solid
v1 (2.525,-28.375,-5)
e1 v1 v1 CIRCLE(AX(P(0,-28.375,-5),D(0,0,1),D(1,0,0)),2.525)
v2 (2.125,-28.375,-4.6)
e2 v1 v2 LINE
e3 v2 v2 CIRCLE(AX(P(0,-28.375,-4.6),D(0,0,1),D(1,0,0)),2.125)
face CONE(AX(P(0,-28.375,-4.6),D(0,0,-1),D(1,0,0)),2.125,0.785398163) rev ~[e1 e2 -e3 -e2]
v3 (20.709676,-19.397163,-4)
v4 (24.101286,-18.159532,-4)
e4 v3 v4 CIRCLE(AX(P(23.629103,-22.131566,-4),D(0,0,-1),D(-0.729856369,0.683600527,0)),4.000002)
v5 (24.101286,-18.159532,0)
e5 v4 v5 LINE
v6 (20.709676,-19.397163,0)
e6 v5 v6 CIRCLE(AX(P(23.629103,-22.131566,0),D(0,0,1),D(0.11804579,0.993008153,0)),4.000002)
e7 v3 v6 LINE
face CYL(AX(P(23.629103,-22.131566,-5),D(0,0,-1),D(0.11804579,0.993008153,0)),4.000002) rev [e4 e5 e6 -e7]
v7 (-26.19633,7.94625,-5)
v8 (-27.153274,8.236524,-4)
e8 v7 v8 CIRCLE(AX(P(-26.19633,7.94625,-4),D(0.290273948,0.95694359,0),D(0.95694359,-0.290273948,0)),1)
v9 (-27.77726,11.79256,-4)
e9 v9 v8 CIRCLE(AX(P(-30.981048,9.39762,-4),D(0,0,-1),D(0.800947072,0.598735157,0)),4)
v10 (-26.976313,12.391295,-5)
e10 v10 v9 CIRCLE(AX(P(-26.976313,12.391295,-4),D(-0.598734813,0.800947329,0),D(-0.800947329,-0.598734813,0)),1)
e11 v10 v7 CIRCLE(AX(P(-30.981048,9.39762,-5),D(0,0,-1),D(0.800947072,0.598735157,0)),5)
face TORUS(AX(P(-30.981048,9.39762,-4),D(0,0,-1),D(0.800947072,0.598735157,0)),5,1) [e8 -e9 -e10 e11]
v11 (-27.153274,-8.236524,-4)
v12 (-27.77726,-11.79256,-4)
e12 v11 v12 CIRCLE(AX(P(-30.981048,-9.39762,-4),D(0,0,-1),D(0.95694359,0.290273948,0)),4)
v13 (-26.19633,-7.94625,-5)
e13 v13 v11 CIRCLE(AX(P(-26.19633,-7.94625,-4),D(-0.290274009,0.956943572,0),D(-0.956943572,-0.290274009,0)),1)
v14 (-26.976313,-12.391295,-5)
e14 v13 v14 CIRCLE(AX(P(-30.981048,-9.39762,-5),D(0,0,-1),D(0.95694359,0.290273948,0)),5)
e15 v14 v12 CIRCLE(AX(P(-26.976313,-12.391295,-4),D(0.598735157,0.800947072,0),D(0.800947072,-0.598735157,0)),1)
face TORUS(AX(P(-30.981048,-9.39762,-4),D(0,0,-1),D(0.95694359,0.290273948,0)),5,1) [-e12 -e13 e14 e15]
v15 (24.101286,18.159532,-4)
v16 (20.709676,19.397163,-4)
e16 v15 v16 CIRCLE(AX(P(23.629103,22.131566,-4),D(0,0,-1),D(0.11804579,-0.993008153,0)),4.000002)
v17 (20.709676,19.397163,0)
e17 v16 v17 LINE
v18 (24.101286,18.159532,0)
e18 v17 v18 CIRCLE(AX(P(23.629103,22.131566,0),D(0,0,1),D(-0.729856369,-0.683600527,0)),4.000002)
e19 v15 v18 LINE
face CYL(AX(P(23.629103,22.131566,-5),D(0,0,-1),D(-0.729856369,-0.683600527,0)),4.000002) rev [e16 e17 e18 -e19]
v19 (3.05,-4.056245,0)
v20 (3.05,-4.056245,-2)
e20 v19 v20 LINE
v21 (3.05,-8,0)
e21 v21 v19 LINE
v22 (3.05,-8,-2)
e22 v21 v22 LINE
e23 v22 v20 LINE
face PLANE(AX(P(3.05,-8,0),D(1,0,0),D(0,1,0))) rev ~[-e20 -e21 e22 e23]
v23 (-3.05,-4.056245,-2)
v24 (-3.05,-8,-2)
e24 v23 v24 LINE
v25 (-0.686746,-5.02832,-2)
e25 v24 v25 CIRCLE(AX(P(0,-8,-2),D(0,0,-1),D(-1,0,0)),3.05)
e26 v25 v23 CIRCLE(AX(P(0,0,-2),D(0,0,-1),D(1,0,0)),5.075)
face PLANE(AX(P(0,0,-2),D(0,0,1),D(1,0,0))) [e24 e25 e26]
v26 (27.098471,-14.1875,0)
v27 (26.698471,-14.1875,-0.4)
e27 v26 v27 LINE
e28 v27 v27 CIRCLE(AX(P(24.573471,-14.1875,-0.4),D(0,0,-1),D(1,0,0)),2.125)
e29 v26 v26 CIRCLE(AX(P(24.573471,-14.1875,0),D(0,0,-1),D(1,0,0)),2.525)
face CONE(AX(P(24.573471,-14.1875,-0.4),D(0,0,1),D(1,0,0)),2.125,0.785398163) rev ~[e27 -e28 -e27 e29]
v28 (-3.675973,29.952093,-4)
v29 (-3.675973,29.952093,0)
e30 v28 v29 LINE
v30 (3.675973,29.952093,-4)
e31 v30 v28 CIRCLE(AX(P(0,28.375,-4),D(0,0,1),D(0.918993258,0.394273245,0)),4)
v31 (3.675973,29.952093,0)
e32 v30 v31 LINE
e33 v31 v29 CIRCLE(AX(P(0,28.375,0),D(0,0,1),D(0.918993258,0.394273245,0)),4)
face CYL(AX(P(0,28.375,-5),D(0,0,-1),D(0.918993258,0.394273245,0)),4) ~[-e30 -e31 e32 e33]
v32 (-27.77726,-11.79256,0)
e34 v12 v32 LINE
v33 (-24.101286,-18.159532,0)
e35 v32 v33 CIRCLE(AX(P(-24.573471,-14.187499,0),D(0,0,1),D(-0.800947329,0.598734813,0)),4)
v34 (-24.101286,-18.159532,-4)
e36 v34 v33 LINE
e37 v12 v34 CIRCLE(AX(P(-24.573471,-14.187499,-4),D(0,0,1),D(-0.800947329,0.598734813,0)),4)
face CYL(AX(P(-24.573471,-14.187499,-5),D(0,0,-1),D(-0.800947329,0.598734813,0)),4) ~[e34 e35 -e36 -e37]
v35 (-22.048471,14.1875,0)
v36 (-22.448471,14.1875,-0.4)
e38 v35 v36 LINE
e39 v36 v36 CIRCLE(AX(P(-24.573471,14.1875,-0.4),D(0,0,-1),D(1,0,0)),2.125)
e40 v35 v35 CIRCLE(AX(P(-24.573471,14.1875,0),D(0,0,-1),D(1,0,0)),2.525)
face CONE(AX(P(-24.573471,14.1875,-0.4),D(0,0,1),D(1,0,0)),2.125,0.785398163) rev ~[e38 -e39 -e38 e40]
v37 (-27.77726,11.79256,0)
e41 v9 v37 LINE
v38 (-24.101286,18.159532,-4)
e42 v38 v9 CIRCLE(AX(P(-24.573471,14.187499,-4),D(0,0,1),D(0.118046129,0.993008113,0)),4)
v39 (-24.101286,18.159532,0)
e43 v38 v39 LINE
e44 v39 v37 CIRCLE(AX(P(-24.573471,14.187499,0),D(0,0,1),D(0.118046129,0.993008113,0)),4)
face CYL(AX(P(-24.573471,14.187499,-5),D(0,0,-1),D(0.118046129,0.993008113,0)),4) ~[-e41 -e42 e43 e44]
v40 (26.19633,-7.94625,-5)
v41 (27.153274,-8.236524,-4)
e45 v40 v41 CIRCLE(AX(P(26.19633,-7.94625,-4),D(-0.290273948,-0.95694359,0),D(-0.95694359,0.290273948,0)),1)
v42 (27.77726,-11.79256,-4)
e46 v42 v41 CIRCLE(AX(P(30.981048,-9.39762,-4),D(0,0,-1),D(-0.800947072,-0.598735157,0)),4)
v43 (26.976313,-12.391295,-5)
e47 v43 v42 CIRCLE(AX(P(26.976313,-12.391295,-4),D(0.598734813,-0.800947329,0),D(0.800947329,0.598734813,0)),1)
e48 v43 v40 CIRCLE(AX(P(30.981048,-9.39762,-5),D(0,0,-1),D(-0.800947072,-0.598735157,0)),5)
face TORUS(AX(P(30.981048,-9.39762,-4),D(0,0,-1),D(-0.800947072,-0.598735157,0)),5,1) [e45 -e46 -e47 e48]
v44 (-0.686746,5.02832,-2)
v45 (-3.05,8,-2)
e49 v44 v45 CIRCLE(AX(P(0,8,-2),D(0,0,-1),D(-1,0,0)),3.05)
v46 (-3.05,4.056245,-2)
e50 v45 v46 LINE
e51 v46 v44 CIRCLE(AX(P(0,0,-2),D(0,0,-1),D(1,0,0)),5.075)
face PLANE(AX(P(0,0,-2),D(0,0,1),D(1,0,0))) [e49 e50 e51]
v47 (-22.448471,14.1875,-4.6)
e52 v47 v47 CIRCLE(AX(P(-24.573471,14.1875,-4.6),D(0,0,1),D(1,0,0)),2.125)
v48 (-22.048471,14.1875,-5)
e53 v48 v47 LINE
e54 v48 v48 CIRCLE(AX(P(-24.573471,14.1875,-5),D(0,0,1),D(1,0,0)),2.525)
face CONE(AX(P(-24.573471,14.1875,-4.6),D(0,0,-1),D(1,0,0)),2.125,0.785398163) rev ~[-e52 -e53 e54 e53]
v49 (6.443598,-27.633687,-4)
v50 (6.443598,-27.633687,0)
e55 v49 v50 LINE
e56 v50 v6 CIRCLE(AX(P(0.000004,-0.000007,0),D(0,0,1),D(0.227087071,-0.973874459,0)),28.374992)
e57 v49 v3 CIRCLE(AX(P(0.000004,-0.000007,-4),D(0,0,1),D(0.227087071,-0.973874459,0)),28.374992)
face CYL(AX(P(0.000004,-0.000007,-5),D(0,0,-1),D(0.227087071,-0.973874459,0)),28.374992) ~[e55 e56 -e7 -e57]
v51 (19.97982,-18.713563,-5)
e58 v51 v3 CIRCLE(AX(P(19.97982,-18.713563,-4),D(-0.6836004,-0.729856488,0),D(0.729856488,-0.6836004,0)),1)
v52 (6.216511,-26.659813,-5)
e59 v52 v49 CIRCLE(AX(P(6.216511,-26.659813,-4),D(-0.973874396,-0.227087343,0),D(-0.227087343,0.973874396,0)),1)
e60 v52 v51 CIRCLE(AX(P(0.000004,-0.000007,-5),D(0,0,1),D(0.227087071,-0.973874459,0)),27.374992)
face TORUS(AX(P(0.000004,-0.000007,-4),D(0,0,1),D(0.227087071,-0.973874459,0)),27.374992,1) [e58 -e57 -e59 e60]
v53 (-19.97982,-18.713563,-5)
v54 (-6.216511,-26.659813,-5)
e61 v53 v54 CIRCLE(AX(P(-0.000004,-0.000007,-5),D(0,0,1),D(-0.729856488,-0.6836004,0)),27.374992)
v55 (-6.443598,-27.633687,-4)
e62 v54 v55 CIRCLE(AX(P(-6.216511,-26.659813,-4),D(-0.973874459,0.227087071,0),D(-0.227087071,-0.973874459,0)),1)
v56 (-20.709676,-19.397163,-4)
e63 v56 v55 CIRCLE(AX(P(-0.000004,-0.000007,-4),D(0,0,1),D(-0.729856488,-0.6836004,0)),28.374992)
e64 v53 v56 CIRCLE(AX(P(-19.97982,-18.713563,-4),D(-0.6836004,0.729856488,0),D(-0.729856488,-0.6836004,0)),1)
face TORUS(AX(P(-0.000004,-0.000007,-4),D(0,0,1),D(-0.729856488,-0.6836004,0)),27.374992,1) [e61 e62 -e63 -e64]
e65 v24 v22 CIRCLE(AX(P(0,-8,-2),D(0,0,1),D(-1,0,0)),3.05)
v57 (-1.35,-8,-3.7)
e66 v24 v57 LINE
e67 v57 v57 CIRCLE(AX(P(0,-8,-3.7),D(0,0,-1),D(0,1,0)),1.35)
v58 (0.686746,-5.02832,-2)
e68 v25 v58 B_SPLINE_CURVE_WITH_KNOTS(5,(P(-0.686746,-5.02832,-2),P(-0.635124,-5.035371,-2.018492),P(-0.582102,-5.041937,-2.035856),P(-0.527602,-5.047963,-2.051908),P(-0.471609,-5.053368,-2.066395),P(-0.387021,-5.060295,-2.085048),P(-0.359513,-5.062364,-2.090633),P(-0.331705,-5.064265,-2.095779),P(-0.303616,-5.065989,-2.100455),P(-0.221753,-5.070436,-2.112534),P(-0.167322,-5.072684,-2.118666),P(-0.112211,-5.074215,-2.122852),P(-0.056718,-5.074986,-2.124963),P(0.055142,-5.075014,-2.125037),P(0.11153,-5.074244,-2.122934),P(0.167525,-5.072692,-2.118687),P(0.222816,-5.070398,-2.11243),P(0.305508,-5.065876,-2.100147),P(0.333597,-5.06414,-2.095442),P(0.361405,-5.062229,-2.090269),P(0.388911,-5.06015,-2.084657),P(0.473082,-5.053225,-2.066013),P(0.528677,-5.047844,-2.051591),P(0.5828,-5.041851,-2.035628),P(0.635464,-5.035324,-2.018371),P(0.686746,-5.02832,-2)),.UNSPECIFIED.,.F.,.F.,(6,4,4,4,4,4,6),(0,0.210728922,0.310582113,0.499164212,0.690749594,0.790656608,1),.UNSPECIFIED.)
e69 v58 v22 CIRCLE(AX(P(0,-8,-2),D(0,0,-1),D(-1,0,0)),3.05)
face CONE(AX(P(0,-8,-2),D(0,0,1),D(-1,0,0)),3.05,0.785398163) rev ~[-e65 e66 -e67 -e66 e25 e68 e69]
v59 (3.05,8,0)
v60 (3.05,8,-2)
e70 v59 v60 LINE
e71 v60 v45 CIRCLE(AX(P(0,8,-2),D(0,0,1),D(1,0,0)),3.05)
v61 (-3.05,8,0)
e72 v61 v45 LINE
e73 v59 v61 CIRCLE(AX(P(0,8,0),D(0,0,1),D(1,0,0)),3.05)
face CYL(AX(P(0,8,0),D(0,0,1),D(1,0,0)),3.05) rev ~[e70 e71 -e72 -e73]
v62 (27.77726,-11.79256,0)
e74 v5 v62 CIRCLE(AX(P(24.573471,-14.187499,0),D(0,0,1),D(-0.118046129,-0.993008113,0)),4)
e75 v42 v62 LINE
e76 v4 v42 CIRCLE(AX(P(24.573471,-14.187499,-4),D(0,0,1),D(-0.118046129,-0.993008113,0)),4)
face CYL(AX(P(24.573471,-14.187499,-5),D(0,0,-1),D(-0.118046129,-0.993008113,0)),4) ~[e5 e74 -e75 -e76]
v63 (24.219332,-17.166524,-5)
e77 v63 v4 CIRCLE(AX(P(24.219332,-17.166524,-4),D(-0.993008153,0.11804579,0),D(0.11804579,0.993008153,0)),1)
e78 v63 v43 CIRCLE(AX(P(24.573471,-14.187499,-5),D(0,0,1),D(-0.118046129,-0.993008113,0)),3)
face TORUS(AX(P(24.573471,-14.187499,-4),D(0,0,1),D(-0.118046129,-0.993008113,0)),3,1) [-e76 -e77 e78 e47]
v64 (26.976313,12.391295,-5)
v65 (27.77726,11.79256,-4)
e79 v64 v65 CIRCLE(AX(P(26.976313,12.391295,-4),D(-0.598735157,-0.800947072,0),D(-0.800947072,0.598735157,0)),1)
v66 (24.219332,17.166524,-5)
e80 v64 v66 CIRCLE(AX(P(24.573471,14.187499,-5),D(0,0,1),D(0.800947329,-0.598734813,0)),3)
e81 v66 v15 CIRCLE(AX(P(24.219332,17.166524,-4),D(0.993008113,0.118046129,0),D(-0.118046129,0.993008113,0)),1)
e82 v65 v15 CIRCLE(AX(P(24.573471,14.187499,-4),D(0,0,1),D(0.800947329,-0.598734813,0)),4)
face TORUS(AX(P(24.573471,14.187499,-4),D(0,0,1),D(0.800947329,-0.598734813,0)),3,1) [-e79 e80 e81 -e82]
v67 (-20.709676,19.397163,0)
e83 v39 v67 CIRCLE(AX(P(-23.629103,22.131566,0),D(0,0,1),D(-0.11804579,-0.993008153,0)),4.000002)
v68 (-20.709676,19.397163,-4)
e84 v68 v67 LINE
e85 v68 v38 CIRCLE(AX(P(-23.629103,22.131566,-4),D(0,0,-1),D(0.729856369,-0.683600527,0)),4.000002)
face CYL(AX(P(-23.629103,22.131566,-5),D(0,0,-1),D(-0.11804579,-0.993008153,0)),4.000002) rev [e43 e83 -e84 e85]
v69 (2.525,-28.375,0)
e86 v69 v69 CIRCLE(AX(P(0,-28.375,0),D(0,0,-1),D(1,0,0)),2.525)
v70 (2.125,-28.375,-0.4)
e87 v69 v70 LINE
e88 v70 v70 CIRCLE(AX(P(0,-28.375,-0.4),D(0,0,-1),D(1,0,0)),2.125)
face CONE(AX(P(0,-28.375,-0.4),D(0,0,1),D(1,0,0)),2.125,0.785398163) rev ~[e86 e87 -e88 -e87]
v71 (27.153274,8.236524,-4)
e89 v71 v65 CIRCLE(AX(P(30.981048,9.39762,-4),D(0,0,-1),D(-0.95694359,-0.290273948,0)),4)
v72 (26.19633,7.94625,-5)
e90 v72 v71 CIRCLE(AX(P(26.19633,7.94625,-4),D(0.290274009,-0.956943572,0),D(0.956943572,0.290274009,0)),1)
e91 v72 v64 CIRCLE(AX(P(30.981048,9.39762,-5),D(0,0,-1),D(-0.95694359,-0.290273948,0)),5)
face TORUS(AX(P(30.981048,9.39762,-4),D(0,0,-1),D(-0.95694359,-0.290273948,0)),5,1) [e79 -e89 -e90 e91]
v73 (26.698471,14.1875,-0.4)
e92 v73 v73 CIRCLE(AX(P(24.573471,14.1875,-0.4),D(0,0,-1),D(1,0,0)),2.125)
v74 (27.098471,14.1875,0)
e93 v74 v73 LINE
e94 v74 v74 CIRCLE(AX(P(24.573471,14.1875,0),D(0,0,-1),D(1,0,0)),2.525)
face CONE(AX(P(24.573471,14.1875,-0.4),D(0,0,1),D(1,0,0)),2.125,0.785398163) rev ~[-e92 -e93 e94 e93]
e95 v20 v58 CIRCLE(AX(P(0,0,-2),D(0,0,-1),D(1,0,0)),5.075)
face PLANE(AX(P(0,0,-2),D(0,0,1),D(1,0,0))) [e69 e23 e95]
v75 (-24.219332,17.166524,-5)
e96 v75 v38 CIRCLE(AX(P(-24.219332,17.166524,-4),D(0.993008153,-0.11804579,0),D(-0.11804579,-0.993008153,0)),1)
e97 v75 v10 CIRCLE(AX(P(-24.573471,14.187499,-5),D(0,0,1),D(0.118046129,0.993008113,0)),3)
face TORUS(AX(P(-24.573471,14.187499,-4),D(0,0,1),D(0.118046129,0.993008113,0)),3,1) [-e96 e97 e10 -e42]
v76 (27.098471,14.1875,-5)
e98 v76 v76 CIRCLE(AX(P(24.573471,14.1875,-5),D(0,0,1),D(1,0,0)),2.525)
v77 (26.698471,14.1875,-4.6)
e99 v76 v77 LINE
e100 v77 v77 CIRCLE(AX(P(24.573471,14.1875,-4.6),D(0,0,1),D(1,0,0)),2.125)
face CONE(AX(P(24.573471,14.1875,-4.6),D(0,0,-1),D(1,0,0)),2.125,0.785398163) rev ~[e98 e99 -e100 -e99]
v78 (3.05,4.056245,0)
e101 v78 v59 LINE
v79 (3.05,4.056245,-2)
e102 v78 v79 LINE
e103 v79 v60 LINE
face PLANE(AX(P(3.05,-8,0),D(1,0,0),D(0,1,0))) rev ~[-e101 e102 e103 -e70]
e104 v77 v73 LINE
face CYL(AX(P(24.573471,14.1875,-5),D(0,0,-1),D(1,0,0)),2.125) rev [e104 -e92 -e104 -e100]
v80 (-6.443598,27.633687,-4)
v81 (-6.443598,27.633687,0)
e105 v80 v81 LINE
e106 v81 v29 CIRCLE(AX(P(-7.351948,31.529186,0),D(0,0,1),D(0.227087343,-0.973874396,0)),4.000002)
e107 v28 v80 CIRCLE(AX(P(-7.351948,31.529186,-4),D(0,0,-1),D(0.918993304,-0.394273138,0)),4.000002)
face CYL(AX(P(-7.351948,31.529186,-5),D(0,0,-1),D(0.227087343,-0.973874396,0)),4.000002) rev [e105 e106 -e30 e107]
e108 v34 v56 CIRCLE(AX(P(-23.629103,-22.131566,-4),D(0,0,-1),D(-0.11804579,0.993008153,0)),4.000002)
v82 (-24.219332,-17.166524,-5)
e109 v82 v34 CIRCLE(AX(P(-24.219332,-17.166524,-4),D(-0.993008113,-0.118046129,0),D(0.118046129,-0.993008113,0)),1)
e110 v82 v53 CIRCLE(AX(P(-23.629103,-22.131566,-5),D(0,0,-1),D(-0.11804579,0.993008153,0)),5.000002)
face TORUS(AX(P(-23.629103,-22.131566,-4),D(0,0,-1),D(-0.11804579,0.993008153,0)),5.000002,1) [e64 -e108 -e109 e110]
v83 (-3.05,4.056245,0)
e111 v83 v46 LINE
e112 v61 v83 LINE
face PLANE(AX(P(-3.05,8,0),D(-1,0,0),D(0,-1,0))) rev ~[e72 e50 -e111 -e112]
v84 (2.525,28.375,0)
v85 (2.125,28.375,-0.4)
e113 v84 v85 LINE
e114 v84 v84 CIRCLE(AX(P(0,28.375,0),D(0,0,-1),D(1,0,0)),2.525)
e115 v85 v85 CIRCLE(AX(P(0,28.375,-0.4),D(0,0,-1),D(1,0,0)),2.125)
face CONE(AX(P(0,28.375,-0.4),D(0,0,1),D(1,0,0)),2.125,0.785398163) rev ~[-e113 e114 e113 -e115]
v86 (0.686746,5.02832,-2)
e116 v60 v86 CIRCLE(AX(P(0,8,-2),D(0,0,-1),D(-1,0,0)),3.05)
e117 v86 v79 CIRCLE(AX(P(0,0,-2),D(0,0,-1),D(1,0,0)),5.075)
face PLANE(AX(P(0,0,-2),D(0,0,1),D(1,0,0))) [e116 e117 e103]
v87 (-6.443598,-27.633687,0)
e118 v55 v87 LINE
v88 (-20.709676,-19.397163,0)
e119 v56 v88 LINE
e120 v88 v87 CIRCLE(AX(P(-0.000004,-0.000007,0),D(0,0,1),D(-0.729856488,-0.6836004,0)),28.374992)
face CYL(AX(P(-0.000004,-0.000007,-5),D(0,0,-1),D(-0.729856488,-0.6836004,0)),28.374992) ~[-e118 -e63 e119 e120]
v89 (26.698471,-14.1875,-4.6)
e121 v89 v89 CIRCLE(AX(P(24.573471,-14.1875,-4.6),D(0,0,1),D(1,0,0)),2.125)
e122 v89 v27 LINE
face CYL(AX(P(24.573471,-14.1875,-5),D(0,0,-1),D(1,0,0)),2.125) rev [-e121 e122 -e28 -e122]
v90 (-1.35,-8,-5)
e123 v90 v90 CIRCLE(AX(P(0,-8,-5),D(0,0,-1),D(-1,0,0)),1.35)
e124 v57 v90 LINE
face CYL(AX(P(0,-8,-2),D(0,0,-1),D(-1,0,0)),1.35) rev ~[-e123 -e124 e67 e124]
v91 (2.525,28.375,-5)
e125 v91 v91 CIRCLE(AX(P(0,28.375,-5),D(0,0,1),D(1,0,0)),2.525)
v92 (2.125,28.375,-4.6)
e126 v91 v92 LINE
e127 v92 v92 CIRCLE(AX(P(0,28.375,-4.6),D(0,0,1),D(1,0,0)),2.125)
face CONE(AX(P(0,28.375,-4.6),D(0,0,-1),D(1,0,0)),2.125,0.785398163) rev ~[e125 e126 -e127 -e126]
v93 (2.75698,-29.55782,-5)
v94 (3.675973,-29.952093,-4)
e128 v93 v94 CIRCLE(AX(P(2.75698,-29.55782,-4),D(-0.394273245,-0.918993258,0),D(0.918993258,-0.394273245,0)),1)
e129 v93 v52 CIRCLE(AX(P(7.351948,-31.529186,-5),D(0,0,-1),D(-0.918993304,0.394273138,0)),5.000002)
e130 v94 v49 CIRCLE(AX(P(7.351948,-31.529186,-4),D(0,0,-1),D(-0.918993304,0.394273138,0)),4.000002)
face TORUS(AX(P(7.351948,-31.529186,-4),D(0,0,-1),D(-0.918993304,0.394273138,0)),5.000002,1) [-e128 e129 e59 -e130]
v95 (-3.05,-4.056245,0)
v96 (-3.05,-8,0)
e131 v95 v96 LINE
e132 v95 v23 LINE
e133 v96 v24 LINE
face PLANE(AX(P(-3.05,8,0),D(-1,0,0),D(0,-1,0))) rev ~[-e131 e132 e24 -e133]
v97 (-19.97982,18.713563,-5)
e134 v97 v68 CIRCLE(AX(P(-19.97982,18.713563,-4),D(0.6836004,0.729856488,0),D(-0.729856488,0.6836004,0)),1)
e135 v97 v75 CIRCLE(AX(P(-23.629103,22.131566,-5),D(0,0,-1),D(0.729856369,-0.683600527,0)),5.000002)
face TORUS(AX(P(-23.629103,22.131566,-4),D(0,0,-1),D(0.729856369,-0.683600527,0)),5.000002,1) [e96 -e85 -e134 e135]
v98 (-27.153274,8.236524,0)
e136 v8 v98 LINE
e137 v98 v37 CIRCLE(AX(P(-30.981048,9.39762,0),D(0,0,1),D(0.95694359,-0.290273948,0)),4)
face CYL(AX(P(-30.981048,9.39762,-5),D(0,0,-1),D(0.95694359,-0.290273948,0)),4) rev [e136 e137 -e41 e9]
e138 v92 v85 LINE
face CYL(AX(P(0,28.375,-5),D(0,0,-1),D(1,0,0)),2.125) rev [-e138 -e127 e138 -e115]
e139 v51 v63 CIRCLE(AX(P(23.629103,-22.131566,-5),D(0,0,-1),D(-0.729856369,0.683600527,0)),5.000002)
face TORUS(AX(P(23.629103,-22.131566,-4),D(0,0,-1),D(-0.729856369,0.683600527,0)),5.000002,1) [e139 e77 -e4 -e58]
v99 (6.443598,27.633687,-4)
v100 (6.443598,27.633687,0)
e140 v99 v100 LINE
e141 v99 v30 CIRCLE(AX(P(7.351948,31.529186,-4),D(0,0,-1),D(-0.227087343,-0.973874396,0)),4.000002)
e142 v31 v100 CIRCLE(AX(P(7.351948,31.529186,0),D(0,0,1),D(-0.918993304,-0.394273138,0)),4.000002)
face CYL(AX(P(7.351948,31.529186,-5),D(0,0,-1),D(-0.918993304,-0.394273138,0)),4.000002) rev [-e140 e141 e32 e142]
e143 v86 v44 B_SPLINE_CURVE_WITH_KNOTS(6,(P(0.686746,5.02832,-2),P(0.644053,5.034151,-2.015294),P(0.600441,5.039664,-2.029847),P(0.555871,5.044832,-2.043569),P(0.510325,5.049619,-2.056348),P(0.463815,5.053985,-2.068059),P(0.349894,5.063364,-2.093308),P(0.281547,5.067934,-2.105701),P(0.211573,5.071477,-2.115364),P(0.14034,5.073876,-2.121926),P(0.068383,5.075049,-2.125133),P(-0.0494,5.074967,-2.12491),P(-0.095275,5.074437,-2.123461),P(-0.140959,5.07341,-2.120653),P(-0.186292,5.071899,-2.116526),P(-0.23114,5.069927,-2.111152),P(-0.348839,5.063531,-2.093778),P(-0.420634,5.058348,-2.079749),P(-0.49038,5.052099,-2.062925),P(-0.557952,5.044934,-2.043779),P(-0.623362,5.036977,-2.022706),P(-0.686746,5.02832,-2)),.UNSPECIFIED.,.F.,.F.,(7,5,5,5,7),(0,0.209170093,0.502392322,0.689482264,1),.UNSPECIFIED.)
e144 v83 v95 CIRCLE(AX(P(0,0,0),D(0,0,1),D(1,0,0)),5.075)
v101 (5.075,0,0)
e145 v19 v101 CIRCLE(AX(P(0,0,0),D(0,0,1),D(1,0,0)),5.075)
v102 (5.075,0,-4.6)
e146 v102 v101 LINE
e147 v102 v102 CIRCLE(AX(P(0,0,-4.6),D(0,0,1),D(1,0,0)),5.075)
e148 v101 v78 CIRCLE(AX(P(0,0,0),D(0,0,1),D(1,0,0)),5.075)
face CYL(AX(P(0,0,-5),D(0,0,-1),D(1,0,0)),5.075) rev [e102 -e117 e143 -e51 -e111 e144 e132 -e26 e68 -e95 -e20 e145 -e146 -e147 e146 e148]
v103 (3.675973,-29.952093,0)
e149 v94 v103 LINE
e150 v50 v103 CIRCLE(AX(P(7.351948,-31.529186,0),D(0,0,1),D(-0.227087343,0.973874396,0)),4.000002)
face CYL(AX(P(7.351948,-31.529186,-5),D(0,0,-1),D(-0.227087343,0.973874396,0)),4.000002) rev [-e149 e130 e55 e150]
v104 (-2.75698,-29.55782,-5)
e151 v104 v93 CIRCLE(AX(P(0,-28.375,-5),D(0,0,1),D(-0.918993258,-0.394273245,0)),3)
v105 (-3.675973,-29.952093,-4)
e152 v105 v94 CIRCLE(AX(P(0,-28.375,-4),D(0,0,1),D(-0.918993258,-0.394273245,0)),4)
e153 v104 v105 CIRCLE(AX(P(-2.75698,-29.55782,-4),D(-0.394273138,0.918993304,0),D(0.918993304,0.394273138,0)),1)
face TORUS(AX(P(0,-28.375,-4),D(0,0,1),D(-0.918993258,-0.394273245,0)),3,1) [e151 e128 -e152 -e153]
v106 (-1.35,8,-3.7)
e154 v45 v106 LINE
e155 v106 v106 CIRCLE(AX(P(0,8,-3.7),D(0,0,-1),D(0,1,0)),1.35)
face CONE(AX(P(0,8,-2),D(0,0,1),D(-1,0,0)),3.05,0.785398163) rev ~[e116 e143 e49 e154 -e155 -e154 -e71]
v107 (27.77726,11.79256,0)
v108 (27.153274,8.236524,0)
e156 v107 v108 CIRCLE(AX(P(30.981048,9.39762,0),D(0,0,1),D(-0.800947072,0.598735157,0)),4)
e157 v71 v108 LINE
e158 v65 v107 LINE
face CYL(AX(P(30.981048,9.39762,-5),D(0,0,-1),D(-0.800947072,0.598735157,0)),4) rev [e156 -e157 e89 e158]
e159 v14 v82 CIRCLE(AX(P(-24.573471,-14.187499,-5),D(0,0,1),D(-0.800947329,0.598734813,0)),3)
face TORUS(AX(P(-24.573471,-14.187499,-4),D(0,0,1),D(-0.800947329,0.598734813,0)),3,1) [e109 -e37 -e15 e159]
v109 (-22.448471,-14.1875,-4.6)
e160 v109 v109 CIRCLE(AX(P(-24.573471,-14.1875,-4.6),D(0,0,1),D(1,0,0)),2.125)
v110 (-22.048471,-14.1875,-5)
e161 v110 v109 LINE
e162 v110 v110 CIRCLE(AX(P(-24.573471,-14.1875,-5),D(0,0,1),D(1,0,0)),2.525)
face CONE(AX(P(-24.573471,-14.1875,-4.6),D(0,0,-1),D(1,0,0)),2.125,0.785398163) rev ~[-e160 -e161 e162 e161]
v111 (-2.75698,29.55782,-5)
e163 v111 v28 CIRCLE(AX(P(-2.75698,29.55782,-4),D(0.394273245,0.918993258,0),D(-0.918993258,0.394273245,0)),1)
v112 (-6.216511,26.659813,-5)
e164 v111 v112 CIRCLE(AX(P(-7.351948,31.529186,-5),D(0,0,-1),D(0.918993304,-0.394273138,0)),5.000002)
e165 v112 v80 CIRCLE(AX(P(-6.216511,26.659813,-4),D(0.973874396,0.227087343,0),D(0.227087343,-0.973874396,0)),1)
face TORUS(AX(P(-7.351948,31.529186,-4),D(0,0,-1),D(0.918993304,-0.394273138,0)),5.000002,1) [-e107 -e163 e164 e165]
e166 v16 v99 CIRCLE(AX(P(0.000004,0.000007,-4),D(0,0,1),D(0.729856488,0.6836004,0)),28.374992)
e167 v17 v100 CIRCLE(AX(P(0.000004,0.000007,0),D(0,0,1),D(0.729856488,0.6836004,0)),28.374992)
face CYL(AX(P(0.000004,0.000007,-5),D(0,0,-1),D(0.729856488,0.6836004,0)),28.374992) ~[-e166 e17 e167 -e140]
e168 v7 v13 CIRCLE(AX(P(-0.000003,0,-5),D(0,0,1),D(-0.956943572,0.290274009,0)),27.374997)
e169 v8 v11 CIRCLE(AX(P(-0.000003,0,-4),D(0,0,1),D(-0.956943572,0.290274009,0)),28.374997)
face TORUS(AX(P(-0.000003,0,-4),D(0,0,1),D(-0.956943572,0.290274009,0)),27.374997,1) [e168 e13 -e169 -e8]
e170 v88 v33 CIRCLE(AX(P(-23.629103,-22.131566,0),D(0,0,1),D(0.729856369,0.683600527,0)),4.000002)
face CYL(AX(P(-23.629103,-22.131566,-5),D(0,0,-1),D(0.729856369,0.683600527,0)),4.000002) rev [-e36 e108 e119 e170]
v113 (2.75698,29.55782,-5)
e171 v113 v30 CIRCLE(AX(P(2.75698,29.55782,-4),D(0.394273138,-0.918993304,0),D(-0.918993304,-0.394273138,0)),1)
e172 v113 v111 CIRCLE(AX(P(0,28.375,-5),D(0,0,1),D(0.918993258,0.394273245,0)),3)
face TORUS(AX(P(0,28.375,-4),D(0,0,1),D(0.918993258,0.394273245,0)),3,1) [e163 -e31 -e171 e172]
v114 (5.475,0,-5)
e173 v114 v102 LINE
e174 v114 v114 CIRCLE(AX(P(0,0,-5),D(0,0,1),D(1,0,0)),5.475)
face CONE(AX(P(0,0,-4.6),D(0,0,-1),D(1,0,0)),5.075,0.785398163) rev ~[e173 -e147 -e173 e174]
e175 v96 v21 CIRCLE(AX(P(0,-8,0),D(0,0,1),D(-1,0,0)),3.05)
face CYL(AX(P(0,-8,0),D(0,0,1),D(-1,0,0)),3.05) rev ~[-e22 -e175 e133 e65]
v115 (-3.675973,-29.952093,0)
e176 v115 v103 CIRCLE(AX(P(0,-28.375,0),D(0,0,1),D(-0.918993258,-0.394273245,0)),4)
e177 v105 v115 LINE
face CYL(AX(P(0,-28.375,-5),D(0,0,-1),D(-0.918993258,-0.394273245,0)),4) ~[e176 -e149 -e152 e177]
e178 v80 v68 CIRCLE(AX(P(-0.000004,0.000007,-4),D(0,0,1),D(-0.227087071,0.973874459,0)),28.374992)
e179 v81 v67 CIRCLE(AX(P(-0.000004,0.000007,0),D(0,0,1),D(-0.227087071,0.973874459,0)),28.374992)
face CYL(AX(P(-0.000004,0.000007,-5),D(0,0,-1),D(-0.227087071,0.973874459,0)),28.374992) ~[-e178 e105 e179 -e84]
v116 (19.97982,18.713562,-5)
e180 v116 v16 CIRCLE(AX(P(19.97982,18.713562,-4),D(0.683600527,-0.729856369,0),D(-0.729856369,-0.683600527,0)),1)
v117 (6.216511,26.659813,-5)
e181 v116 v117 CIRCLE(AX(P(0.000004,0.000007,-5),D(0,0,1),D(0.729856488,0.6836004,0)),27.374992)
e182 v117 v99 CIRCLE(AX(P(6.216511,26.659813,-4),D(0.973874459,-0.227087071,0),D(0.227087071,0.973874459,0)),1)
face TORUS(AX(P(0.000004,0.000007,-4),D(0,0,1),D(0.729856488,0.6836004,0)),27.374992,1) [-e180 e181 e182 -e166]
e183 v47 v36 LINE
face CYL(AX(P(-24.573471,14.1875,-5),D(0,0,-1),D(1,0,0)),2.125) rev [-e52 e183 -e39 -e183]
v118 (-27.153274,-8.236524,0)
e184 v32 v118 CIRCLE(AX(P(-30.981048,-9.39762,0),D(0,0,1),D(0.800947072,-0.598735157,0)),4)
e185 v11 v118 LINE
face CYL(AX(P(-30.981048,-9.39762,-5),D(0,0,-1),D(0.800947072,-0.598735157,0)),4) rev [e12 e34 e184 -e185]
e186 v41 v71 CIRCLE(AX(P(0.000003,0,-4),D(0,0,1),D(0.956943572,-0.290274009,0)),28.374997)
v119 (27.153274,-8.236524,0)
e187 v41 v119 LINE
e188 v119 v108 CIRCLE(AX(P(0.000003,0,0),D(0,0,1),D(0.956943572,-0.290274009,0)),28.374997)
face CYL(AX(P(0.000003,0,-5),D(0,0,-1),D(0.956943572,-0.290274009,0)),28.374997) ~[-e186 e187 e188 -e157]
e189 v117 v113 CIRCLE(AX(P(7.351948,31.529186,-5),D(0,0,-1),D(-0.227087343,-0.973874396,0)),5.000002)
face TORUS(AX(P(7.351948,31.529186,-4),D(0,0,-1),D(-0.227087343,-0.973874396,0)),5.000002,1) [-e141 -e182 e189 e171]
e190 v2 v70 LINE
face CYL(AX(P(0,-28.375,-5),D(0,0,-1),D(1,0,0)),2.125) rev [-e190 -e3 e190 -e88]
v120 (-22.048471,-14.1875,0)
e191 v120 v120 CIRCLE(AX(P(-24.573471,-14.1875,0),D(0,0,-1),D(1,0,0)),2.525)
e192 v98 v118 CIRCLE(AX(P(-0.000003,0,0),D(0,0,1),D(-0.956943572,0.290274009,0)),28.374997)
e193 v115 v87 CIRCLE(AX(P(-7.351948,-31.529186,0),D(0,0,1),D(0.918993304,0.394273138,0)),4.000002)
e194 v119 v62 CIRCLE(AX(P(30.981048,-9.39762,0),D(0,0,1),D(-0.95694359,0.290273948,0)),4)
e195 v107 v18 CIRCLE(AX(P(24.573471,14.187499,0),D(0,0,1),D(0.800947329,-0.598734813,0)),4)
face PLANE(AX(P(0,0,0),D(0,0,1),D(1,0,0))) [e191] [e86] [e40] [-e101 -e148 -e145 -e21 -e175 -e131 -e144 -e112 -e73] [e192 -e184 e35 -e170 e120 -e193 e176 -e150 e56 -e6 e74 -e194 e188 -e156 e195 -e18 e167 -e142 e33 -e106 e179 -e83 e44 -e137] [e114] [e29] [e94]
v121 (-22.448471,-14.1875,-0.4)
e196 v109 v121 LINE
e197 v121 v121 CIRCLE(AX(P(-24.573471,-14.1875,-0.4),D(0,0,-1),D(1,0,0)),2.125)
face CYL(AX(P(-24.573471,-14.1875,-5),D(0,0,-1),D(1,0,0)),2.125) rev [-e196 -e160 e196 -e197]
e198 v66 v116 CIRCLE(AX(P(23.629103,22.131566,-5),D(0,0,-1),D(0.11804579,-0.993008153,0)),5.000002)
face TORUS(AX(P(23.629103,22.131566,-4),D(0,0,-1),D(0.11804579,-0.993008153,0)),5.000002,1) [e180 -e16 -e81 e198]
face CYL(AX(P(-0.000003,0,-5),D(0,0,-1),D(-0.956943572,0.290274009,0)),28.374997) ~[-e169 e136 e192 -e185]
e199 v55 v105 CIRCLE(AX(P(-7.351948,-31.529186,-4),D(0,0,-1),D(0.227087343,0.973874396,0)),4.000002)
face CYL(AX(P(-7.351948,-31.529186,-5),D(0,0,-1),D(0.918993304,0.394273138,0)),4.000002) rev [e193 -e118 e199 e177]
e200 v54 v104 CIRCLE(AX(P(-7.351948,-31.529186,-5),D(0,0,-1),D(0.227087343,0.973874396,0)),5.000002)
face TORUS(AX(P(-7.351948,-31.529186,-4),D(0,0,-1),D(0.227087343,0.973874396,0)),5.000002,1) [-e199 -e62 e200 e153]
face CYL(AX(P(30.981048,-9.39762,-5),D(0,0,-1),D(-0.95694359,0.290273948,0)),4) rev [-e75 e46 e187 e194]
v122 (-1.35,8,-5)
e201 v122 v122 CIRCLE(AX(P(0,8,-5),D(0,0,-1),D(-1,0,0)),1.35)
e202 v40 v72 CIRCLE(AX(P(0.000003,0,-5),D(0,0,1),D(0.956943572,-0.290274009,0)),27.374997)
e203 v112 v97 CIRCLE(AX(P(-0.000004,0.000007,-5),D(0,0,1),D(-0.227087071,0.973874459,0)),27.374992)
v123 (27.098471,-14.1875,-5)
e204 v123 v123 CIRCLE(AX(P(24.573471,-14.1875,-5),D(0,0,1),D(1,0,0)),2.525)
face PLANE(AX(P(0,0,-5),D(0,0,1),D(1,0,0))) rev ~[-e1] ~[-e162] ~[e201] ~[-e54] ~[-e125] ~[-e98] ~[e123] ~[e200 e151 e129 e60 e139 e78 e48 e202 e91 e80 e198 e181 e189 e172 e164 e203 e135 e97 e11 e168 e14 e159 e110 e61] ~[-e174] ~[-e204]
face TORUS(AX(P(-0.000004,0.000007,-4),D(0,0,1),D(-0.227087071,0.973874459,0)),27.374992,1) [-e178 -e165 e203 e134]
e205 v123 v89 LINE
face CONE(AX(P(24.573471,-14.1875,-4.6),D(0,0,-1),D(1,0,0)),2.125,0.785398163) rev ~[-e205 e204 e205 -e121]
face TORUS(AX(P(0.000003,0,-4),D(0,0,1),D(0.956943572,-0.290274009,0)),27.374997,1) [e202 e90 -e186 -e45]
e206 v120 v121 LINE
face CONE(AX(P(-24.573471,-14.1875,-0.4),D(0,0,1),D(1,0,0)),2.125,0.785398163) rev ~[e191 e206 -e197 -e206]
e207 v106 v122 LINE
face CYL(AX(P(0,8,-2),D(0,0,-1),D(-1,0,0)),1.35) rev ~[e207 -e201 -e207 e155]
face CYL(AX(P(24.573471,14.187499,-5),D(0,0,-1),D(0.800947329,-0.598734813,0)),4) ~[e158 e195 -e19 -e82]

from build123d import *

# Parameters (mm, degrees)
SKETCH011_R         = 5.075
PAD004_DEPTH        = 5
POCKET005_DEPTH     = 2
HOLE003_D           = 2.7
HOLE003_CSINK_D     = 6.1
HOLE003_CSINK_ANGLE = 90
SKETCH016_R         = 2.125
POCKET006_DEPTH     = 5.001
FILLET_R            = 1
CHAMFER_SIZE        = 0.4


with BuildPart() as part:
    # Sketch011 → Pad004 (new body)
    with BuildSketch(Plane.XY):
        with BuildLine():
            ThreePointArc((3.675973, 29.952093), (0, 32.375), (-3.675973, 29.952093))
            ThreePointArc((-6.443598, 27.633687), (-4.783337, 28.462877), (-3.675973, 29.952093))
            ThreePointArc((-6.443598, 27.633687), (-14.1875, 24.573471), (-20.709676, 19.397163))
            ThreePointArc((-24.101286, 18.159532), (-22.257905, 18.37393), (-20.709676, 19.397163))
            ThreePointArc((-24.101286, 18.159532), (-28.037572, 16.1875), (-27.77726, 11.79256))
            ThreePointArc((-27.153274, 8.236524), (-27.041243, 10.088947), (-27.77726, 11.79256))
            ThreePointArc((-27.153274, 8.236524), (-28.375, 0), (-27.153274, -8.236524))
            ThreePointArc((-27.77726, -11.79256), (-27.041243, -10.088947), (-27.153274, -8.236524))
            ThreePointArc((-27.77726, -11.79256), (-28.037572, -16.1875), (-24.101286, -18.159532))
            ThreePointArc((-20.709676, -19.397163), (-22.257905, -18.37393), (-24.101286, -18.159532))
            ThreePointArc((-20.709676, -19.397163), (-14.1875, -24.573471), (-6.443598, -27.633687))
            ThreePointArc((-3.675973, -29.952093), (-4.783337, -28.462877), (-6.443598, -27.633687))
            ThreePointArc((-3.675973, -29.952093), (0, -32.375), (3.675973, -29.952093))
            ThreePointArc((6.443598, -27.633687), (4.783337, -28.462877), (3.675973, -29.952093))
            ThreePointArc((6.443598, -27.633687), (14.1875, -24.573471), (20.709676, -19.397163))
            ThreePointArc((24.101286, -18.159532), (22.257905, -18.37393), (20.709676, -19.397163))
            ThreePointArc((24.101286, -18.159532), (28.037572, -16.1875), (27.77726, -11.79256))
            ThreePointArc((27.153274, -8.236524), (27.041243, -10.088947), (27.77726, -11.79256))
            ThreePointArc((27.153274, -8.236524), (28.375, 0), (27.153274, 8.236524))
            ThreePointArc((27.77726, 11.79256), (27.041243, 10.088947), (27.153274, 8.236524))
            ThreePointArc((27.77726, 11.79256), (28.037572, 16.1875), (24.101286, 18.159532))
            ThreePointArc((20.709676, 19.397163), (22.257905, 18.37393), (24.101286, 18.159532))
            ThreePointArc((20.709676, 19.397163), (14.1875, 24.573471), (6.443598, 27.633687))
            ThreePointArc((3.675973, 29.952093), (4.783337, 28.462877), (6.443598, 27.633687))
        make_face()
        Circle(SKETCH011_R, mode=Mode.SUBTRACT)
    extrude(amount=PAD004_DEPTH)

    # Sketch014 → Pocket005 (cut)
    with BuildSketch(Plane.XY.offset(5)):
        with BuildLine():
            ThreePointArc((3.05, 8), (0, 11.05), (-3.05, 8))
            Line((-3.05, 8), (-3.05, -8))
            ThreePointArc((-3.05, -8), (0, -11.05), (3.05, -8))
            Line((3.05, -8), (3.05, 8))
        make_face()
    extrude(amount=-POCKET005_DEPTH, mode=Mode.SUBTRACT)

    # Hole003 (through all)
    with Locations(Plane.XY.offset(3)):
        with Locations((0, 8), (0, -8)):
            CounterSinkHole(HOLE003_D / 2, HOLE003_CSINK_D / 2, counter_sink_angle=HOLE003_CSINK_ANGLE)

    # Sketch016 → Pocket006 (cut, through all)
    with BuildSketch(Plane.XY):
        with Locations((0, 28.375)):
            Circle(SKETCH016_R)
        with Locations((24.573471, -14.1875)):
            Circle(SKETCH016_R)
        with Locations((-24.573471, -14.1875)):
            Circle(SKETCH016_R)
        with Locations((24.573471, 14.1875)):
            Circle(SKETCH016_R)
        with Locations((0, -28.375)):
            Circle(SKETCH016_R)
        with Locations((-24.573471, 14.1875)):
            Circle(SKETCH016_R)
    extrude(amount=POCKET006_DEPTH, mode=Mode.SUBTRACT)

    # Fillet
    fillet_edges = [part.edges().sort_by_distance(p)[0] for p in [
        (-14.1875, -24.573471, 0),
    ]]
    fillet(fillet_edges, radius=FILLET_R)

    # Chamfer
    chamfer_edges = [part.edges().sort_by_distance(p)[0] for p in [
        (-5.075, 0, 0),
        (22.448471, 14.1875, 0),
        (22.448471, -14.1875, 0),
        (-2.125, -28.375, 0),
        (-26.698471, -14.1875, 0),
        (-26.698471, 14.1875, 0),
        (-2.125, 28.375, 0),
        (-26.698471, -14.1875, 5),
        (-26.698471, 14.1875, 5),
        (-2.125, 28.375, 5),
        (22.448471, 14.1875, 5),
        (22.448471, -14.1875, 5),
        (-2.125, -28.375, 5),
    ]]
    chamfer(chamfer_edges, length=CHAMFER_SIZE)


with BuildPart() as part_1:
    # Body006 placement: moved
    add(part.part.moved(Location((0, 0, -5))))


solid = part_1.part
